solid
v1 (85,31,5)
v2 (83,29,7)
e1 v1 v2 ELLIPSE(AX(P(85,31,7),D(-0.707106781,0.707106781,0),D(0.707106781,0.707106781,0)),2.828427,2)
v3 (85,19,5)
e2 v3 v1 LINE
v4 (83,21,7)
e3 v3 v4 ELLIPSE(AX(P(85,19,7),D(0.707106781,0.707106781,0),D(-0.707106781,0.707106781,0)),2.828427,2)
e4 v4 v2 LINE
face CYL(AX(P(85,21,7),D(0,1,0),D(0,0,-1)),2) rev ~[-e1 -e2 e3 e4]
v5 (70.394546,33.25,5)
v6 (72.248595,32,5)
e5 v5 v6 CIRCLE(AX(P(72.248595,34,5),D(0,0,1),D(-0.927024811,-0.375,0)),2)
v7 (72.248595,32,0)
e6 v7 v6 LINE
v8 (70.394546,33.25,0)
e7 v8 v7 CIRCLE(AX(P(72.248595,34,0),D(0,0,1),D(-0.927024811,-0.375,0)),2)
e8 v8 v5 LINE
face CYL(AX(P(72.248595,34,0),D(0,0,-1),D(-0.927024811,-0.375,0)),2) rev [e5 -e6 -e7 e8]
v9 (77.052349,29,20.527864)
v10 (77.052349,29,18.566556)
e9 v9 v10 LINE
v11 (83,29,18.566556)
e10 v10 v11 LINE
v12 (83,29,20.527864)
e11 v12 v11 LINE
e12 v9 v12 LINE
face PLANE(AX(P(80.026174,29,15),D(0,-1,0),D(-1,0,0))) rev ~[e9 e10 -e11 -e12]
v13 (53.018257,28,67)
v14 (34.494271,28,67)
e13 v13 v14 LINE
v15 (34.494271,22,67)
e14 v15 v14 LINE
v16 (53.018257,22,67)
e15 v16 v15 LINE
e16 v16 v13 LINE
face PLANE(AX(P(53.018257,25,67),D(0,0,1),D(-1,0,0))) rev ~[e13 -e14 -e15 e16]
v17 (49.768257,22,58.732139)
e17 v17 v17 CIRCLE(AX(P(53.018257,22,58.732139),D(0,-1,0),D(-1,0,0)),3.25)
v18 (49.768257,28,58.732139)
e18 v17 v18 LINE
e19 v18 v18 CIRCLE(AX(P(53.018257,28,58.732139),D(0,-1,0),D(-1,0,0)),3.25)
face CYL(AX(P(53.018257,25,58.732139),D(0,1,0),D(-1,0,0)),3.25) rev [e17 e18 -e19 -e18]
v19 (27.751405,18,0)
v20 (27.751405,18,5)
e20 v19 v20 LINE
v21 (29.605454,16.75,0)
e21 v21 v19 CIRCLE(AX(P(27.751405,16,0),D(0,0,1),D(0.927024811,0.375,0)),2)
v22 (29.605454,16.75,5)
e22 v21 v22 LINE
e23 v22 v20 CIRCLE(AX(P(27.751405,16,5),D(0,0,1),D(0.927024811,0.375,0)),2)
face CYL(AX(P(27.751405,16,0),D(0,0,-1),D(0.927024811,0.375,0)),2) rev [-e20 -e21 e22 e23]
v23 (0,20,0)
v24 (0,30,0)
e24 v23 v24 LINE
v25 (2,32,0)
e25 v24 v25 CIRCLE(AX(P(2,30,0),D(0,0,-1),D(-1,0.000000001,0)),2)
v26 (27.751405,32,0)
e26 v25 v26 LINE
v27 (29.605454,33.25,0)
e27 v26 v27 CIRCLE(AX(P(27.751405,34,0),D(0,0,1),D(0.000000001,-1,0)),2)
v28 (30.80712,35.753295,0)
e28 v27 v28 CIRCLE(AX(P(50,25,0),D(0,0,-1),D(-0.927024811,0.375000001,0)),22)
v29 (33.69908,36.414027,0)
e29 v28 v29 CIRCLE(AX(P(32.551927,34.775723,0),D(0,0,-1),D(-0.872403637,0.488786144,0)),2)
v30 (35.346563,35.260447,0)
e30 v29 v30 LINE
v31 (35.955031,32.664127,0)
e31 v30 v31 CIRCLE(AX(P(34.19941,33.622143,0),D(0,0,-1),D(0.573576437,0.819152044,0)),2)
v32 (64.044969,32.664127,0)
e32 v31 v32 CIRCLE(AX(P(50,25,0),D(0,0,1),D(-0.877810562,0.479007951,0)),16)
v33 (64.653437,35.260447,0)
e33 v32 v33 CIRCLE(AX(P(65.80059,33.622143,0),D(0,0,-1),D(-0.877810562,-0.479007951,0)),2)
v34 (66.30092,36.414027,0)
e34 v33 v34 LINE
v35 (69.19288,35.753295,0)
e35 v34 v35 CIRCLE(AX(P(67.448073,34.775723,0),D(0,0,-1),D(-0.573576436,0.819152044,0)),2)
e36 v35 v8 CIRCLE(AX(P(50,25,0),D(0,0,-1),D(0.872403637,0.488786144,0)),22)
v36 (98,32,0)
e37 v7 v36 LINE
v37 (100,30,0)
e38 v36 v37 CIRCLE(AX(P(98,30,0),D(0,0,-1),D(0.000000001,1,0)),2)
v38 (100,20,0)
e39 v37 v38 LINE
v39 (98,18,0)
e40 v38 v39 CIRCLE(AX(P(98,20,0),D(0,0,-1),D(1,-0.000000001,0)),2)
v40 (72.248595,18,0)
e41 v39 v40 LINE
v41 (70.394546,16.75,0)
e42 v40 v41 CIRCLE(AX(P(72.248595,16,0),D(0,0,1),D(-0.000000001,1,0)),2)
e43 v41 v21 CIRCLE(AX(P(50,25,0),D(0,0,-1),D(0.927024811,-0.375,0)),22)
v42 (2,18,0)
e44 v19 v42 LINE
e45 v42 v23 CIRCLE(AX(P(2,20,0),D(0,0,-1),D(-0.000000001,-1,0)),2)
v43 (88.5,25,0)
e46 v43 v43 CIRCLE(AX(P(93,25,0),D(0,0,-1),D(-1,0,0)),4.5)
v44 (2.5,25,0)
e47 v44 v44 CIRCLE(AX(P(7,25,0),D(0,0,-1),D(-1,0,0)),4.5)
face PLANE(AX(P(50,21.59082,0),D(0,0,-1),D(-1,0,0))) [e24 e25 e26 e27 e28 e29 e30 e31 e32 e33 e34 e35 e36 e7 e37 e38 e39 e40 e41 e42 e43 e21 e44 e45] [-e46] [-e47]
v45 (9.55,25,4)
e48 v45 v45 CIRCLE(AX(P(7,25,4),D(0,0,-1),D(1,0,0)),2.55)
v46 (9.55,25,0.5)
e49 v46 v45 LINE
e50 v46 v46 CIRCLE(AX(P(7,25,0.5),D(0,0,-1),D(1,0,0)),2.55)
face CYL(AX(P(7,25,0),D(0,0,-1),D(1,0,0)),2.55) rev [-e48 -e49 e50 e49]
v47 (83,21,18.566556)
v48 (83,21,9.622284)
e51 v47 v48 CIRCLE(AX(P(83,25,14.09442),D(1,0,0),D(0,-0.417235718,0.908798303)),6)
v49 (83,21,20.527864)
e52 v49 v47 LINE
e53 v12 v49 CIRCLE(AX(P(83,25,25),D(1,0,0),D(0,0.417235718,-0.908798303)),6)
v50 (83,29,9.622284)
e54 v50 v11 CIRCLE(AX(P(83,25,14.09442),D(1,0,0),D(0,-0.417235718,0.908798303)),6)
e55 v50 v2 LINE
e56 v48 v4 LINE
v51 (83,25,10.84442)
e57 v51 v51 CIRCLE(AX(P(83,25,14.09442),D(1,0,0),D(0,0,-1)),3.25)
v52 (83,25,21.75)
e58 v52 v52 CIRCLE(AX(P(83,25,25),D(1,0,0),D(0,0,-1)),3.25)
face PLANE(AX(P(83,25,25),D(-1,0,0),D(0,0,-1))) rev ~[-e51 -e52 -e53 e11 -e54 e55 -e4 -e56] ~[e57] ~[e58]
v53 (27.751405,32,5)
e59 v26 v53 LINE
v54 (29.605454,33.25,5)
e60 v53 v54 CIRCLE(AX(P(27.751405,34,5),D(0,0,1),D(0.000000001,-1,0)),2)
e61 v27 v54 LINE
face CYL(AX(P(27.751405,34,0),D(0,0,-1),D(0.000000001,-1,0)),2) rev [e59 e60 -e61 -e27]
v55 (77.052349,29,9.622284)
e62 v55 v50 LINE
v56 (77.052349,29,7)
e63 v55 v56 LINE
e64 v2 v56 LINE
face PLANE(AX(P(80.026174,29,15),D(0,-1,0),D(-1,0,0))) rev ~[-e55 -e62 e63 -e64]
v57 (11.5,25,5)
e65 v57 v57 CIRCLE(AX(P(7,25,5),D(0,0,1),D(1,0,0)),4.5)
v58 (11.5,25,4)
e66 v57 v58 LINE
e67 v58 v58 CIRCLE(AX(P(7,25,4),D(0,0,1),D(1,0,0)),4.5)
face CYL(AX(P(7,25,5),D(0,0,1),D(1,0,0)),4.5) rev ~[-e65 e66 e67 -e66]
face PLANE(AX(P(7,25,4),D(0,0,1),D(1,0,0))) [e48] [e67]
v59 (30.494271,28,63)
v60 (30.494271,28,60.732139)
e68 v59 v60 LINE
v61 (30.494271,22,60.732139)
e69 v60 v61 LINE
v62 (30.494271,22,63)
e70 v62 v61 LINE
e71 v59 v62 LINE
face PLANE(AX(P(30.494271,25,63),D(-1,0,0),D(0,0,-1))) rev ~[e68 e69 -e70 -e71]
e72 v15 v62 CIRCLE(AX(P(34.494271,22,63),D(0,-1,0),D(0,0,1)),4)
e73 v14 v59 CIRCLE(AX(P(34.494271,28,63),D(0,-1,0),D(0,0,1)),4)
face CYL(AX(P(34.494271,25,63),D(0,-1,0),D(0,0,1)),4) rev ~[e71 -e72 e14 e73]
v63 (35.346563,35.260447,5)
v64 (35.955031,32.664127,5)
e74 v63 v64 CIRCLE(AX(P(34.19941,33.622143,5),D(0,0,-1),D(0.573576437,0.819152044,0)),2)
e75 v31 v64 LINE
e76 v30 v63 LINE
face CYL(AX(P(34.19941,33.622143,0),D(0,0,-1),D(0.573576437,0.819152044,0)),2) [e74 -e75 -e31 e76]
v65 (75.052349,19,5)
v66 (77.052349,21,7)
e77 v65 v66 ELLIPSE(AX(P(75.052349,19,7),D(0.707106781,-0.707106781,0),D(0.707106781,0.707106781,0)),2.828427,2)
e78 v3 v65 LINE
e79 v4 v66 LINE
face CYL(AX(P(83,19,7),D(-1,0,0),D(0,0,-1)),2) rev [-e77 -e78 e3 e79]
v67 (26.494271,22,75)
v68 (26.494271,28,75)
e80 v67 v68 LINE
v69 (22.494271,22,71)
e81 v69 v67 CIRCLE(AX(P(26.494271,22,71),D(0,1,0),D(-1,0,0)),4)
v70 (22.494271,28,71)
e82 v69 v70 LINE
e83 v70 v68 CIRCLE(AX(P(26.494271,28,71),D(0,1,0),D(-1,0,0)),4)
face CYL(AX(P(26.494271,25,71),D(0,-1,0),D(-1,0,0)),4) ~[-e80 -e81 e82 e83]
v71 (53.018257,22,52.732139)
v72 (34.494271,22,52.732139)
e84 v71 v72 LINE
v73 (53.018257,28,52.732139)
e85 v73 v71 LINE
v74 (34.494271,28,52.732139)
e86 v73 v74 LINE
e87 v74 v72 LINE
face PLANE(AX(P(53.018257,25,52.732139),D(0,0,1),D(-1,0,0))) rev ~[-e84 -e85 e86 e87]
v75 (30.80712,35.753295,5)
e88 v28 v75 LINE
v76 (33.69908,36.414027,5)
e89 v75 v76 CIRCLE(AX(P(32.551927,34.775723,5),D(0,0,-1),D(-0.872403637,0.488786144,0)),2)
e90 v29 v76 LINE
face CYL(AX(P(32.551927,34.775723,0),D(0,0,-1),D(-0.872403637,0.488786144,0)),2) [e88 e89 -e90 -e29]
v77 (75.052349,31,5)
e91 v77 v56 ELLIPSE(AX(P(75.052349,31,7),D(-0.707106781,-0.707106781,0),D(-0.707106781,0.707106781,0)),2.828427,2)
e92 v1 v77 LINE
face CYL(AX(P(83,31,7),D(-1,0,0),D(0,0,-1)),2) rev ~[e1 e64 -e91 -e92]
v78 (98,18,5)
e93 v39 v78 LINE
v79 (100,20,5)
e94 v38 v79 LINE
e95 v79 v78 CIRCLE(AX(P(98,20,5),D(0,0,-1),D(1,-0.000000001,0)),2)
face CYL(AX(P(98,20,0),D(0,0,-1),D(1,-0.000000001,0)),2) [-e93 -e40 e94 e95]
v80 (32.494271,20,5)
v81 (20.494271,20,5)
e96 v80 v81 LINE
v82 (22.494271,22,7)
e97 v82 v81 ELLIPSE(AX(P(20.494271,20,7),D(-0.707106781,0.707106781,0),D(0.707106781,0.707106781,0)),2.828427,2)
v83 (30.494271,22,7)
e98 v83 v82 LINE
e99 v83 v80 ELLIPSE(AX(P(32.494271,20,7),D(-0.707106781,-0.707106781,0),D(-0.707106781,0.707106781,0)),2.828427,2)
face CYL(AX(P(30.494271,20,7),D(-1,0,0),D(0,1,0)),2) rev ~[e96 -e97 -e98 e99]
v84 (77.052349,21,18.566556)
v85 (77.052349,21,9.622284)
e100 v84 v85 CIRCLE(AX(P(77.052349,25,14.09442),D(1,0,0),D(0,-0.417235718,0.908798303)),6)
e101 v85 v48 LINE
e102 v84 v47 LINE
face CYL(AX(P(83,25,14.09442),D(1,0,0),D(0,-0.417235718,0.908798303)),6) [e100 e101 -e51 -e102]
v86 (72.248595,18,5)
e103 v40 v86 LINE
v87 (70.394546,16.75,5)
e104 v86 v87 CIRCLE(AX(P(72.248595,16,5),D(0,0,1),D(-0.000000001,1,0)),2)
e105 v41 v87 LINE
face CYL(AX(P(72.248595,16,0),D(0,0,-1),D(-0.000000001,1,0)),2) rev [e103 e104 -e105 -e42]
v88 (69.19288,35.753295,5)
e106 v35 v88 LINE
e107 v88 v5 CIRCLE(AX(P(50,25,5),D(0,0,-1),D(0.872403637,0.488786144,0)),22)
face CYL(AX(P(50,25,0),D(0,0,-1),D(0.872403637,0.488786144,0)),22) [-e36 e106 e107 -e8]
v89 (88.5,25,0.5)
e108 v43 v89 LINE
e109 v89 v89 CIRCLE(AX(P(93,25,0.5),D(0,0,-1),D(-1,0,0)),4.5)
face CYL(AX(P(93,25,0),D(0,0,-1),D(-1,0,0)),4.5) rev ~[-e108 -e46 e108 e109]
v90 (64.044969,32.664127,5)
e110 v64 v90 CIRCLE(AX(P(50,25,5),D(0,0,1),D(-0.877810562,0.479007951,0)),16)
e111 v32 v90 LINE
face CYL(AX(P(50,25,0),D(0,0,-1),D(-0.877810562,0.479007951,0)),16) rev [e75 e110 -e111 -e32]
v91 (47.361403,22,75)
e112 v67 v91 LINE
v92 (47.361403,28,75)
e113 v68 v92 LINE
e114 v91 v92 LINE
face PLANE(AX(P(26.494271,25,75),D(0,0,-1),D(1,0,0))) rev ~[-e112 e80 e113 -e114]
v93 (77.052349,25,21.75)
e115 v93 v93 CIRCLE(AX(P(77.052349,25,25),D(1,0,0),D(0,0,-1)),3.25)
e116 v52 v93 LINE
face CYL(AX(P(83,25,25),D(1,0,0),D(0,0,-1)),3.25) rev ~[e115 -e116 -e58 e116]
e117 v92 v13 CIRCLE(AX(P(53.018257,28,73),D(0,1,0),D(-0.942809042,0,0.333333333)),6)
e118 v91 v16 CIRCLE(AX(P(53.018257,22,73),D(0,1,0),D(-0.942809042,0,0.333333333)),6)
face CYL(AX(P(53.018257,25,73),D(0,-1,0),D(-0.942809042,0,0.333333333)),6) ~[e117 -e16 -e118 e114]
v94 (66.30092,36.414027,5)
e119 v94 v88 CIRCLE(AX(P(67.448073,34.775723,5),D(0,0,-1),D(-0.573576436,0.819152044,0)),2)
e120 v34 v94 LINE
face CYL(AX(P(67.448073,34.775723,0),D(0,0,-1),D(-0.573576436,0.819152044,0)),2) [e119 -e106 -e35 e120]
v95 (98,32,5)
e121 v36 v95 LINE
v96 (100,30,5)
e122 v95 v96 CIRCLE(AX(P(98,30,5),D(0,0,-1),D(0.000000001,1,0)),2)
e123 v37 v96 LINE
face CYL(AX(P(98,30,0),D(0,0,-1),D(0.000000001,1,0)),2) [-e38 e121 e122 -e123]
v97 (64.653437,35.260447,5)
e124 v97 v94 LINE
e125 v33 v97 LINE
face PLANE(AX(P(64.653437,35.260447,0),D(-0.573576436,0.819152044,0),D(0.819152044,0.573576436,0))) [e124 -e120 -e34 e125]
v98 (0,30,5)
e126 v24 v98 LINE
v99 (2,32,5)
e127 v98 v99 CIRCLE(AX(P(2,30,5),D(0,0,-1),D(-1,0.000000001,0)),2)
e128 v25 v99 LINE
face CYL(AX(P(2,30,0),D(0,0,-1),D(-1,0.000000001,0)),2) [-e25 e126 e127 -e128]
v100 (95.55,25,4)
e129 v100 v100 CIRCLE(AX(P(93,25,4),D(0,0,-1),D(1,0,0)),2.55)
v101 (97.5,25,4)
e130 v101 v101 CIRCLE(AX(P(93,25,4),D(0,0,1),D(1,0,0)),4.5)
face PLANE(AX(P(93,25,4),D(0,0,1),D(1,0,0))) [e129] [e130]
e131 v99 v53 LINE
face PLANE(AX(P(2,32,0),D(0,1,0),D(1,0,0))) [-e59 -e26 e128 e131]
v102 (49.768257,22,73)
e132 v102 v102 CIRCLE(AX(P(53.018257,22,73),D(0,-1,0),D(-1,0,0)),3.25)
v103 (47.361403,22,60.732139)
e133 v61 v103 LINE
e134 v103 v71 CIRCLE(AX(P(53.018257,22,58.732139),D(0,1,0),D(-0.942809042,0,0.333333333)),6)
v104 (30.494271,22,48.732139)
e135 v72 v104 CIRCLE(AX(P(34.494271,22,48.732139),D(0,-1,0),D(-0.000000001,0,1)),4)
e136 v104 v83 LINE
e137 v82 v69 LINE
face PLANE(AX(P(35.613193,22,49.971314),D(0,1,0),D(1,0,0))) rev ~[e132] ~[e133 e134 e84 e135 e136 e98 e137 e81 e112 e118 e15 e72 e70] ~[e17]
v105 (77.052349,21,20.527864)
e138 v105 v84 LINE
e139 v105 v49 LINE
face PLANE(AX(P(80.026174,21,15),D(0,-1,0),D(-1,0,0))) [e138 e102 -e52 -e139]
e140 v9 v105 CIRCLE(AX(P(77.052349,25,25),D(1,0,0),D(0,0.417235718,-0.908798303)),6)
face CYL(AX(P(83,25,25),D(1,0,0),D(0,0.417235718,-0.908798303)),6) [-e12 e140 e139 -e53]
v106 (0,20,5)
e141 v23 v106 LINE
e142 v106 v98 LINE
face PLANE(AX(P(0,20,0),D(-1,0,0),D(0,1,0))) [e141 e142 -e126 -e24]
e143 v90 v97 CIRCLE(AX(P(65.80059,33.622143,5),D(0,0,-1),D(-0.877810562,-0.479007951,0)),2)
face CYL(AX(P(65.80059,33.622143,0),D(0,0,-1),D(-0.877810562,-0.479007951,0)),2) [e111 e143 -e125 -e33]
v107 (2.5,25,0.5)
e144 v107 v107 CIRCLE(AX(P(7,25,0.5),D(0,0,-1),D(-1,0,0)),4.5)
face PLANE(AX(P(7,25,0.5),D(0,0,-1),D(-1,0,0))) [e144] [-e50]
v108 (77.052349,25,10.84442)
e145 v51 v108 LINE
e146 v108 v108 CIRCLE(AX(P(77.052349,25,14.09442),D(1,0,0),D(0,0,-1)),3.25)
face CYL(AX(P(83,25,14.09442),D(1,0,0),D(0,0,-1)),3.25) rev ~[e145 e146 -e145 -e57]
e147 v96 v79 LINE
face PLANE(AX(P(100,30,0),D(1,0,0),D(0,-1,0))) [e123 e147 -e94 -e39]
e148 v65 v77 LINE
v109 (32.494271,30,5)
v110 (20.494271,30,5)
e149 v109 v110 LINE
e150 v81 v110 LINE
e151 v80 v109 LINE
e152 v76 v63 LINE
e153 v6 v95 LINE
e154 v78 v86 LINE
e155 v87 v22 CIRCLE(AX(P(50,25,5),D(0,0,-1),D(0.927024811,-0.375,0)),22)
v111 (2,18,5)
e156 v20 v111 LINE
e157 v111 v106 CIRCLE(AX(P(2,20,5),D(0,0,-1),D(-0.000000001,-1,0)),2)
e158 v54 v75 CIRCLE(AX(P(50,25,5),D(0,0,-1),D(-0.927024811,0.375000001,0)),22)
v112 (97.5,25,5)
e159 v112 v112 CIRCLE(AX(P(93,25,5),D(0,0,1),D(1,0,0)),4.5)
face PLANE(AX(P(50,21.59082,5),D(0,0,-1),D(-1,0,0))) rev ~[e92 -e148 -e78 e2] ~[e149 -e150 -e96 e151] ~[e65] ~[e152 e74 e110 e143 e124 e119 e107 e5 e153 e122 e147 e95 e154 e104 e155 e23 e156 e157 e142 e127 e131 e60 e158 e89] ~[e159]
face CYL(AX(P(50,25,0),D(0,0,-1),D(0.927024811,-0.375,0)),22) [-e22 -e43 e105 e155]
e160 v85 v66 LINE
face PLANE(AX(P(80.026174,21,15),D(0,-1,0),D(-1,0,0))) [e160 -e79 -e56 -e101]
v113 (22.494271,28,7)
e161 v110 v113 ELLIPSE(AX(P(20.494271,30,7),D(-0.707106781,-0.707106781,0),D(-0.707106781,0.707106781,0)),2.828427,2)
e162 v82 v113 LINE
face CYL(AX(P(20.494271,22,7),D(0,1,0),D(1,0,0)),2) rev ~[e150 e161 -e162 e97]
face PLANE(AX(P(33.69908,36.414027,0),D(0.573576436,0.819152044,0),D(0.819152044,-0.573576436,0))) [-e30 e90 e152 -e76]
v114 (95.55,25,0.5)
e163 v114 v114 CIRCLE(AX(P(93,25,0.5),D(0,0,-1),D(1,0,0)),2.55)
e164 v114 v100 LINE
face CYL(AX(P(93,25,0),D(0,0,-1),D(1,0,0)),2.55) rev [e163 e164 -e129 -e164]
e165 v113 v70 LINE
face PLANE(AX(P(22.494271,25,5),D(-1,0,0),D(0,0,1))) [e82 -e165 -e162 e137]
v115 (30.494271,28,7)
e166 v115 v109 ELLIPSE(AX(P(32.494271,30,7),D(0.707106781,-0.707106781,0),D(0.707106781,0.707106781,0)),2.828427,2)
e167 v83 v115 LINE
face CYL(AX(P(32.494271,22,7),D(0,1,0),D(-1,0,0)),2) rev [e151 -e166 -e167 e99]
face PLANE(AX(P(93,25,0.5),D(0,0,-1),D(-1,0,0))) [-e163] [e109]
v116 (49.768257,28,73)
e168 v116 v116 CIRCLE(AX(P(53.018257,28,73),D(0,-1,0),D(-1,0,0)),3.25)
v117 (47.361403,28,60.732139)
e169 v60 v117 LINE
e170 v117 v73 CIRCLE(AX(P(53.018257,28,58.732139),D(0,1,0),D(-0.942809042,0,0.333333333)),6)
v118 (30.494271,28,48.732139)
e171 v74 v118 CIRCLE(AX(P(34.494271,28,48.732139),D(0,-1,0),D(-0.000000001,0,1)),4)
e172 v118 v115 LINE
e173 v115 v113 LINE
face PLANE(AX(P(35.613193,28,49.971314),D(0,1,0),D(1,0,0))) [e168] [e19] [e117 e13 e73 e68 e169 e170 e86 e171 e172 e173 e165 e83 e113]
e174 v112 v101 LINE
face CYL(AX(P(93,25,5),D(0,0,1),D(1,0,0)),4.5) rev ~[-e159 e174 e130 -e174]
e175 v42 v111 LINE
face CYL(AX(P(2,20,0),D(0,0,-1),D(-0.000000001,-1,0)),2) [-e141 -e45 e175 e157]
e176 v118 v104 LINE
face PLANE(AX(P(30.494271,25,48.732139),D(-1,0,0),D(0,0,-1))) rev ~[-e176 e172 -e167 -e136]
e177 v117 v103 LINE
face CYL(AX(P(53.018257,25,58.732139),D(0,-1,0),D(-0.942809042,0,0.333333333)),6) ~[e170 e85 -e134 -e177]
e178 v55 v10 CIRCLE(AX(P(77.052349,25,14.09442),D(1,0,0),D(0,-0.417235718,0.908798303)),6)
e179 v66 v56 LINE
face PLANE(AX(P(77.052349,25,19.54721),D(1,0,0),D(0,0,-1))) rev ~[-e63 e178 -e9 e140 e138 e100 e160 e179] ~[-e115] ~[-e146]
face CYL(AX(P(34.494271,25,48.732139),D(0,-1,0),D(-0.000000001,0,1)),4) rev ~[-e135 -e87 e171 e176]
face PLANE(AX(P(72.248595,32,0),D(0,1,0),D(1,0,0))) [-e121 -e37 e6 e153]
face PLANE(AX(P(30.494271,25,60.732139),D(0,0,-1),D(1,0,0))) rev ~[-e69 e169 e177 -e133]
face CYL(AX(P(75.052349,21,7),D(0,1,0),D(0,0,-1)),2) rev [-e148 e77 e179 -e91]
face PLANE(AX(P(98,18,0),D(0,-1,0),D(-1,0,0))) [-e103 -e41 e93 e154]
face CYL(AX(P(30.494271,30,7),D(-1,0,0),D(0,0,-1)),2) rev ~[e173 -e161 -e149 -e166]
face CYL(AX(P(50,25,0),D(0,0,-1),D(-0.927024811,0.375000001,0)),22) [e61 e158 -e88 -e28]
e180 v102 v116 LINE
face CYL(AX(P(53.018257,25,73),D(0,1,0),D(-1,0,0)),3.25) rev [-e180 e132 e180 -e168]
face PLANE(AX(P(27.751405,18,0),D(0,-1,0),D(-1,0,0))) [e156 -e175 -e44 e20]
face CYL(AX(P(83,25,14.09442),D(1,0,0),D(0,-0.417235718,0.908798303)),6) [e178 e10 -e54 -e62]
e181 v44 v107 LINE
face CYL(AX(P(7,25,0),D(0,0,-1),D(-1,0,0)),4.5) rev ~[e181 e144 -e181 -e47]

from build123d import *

# Parameters (mm, degrees)
SKETCH1_R                = 2.55
BOSS_EXTRUDE1_DEPTH      = 5
SKETCH4_R                = 4.5
CUT_EXTRUDE2_DEPTH       = 1
SKETCH6_W                = 5.947651005
SKETCH6_H                = 20
BOSS_EXTRUDE2_DEPTH      = 4
BOSS_EXTRUDE2_DEPTH_BACK = 4
SKETCH11_R               = 4.5
CUT_EXTRUDE3_DEPTH       = 0.5
SKETCH16_R               = 3.25
BOSS_EXTRUDE3_DEPTH      = 3
BOSS_EXTRUDE3_DEPTH_BACK = 3
FILLET3_R                = 2
BOSS_EXTRUDE4_DEPTH      = 5.947651
CUT_EXTRUDE5_REACH       = 85
SKETCH18_R               = 3.25


with BuildPart() as part:
    # Sketch1 → Boss-Extrude1 (new body)
    with BuildSketch(Plane.XY):
        with BuildLine():
            Line((100, 25), (100, 20))
            ThreePointArc((100, 20), (99.414213562, 18.585786438), (98, 18))
            Line((98, 18), (72.248595461, 18))
            ThreePointArc((72.248595461, 18), (71.130561473, 17.658312395), (70.39454584, 16.75))
            ThreePointArc((70.39454584, 16.75), (50, 3), (29.60545416, 16.75))
            ThreePointArc((29.60545416, 16.75), (28.869438527, 17.658312395), (27.751404539, 18))
            Line((27.751404539, 18), (2, 18))
            ThreePointArc((2, 18), (0.585786438, 18.585786438), (0, 20))
            Line((0, 20), (0, 25))
            Line((0, 25), (0, 30))
            ThreePointArc((0, 30), (0.585786438, 31.414213562), (2, 32))
            Line((2, 32), (21.056240945, 32))
            Line((21.056240945, 32), (27.751404539, 32))
            ThreePointArc((27.751404539, 32), (28.869438527, 32.341687605), (29.60545416, 33.25))
            ThreePointArc((29.60545416, 33.25), (30.166752838, 34.520625347), (30.807119991, 35.753295167))
            ThreePointArc((30.807119991, 35.753295167), (32.106461975, 36.725482012), (33.699080137, 36.414026968))
            Line((33.699080137, 36.414026968), (35.34656276, 35.260447216))
            ThreePointArc((35.34656276, 35.260447216), (36.146649881, 34.078494315), (35.955031011, 32.664127224))
            ThreePointArc((35.955031011, 32.664127224), (50, 9), (64.044968989, 32.664127224))
            ThreePointArc((64.044968989, 32.664127224), (63.853350119, 34.078494315), (64.65343724, 35.260447216))
            Line((64.65343724, 35.260447216), (66.300919863, 36.414026968))
            ThreePointArc((66.300919863, 36.414026968), (67.893538025, 36.725482012), (69.192880009, 35.753295167))
            ThreePointArc((69.192880009, 35.753295167), (69.833247162, 34.520625347), (70.39454584, 33.25))
            ThreePointArc((70.39454584, 33.25), (71.130561473, 32.341687605), (72.248595461, 32))
            Line((72.248595461, 32), (78.943759055, 32))
            Line((78.943759055, 32), (98, 32))
            ThreePointArc((98, 32), (99.414213562, 31.414213562), (100, 30))
            Line((100, 30), (100, 25))
        make_face()
        with Locations((93, 25)):
            Circle(SKETCH1_R, mode=Mode.SUBTRACT)
        with Locations((7, 25)):
            Circle(SKETCH1_R, mode=Mode.SUBTRACT)
    extrude(amount=BOSS_EXTRUDE1_DEPTH)

    # Sketch4 → Cut-Extrude2 (cut)
    with BuildSketch(Plane.XY.offset(5)):
        with Locations((93, 25)):
            Circle(SKETCH4_R)
        with Locations((7, 25)):
            Circle(SKETCH4_R)
    extrude(amount=-CUT_EXTRUDE2_DEPTH, mode=Mode.SUBTRACT)

    # Sketch6 → Boss-Extrude2 (add, two sides)
    with BuildSketch(Plane(origin=(0, 25, 0), x_dir=(-1, 0, 0), z_dir=(0, -1, 0))) as boss_extrude2_sk:
        with Locations((-80.026174497, -15)):
            Rectangle(SKETCH6_W, SKETCH6_H)
    extrude(amount=BOSS_EXTRUDE2_DEPTH)
    extrude(boss_extrude2_sk.sketch, amount=-BOSS_EXTRUDE2_DEPTH_BACK)

    # Sketch11 → Cut-Extrude3 (cut)
    with BuildSketch(Plane(origin=(0, 0, 0), x_dir=(-1, 0, 0), z_dir=(0, 0, -1))):
        with Locations((-93, 25)):
            Circle(SKETCH11_R)
        with Locations((-7, 25)):
            Circle(SKETCH11_R)
    extrude(amount=-CUT_EXTRUDE3_DEPTH, mode=Mode.SUBTRACT)

    # Sketch16 → Boss-Extrude3 (add, two sides)
    with BuildSketch(Plane(origin=(0, 25, 0), x_dir=(-1, 0, 0), z_dir=(0, -1, 0))) as boss_extrude3_sk:
        with BuildLine():
            Line((-30.494270905, -5), (-22.494270905, -5))
            Line((-22.494270905, -5), (-22.494270905, -71))
            ThreePointArc((-22.494270905, -71), (-23.665843781, -73.828427125), (-26.494270905, -75))
            Line((-26.494270905, -75), (-30.494270905, -75))
            Line((-30.494270905, -75), (-47.361403242, -75))
            ThreePointArc((-47.361403242, -75), (-57.917236977, -76.464101615), (-53.018257491, -67))
            Line((-53.018257491, -67), (-34.494270905, -67))
            ThreePointArc((-34.494270905, -67), (-31.665843781, -65.828427125), (-30.494270905, -63))
            Line((-30.494270905, -63), (-30.494270905, -60.732138804))
            Line((-30.494270905, -60.732138804), (-47.361403242, -60.732138804))
            ThreePointArc((-47.361403242, -60.732138804), (-57.917236977, -62.196240419), (-53.018257491, -52.732138804))
            Line((-53.018257491, -52.732138804), (-34.494270905, -52.732138804))
            ThreePointArc((-34.494270905, -52.732138804), (-31.665843781, -51.560565928), (-30.494270905, -48.732138804))
            Line((-30.494270905, -48.732138804), (-30.494270905, -5))
        make_face()
        with Locations((-53.018257491, -73)):
            Circle(SKETCH16_R, mode=Mode.SUBTRACT)
        with Locations((-53.018257491, -58.732138804)):
            Circle(SKETCH16_R, mode=Mode.SUBTRACT)
    extrude(amount=BOSS_EXTRUDE3_DEPTH)
    extrude(boss_extrude3_sk.sketch, amount=-BOSS_EXTRUDE3_DEPTH_BACK)

    # Fillet3
    fillet3_edges = [part.edges().sort_by_distance(p)[0] for p in [
        (83, 25, 5),
        (80.026174498, 29, 5),
        (77.052348995, 25, 5),
        (80.026174498, 21, 5),
        (30.494270905, 25, 5),
        (26.494270905, 28, 5),
        (22.494270905, 25, 5),
        (26.494270905, 22, 5),
    ]]
    fillet(fillet3_edges, radius=FILLET3_R)

    # Sketch17 → Boss-Extrude4 (add)
    with BuildSketch(Plane(origin=(83, 0, 0), x_dir=(0, 0, -1), z_dir=(1, 0, 0))):
        with BuildLine():
            ThreePointArc((-19.547210182, 27.503414308), (-31, 25), (-19.547210182, 22.496585692))
            ThreePointArc((-19.547210182, 22.496585692), (-8.094420363, 25), (-19.547210182, 27.503414308))
        make_face()
    extrude(amount=-BOSS_EXTRUDE4_DEPTH)

    # Sketch18 → Cut-Extrude5 (cut, up to next)
    with BuildSketch(Plane(origin=(83, 0, 0), x_dir=(0, 0, -1), z_dir=(1, 0, 0)), mode=Mode.PRIVATE) as cut_extrude5_sk1:
        with Locations((-25, 25)):
            Circle(SKETCH18_R)
    cut_extrude5_tool1 = extrude(cut_extrude5_sk1.sketch, amount=-CUT_EXTRUDE5_REACH, mode=Mode.PRIVATE) & part.part
    add(cut_extrude5_tool1.solids().sort_by_distance((83, 25, 25))[0], mode=Mode.SUBTRACT)
    # Sketch18 → Cut-Extrude5 (cut, up to next)
    with BuildSketch(Plane(origin=(83, 0, 0), x_dir=(0, 0, -1), z_dir=(1, 0, 0)), mode=Mode.PRIVATE) as cut_extrude5_sk2:
        with Locations((-14.094420363, 25)):
            Circle(SKETCH18_R)
    cut_extrude5_tool2 = extrude(cut_extrude5_sk2.sketch, amount=-CUT_EXTRUDE5_REACH, mode=Mode.PRIVATE) & part.part
    add(cut_extrude5_tool2.solids().sort_by_distance((83, 25, 14.09442))[0], mode=Mode.SUBTRACT)


solid = part.part
